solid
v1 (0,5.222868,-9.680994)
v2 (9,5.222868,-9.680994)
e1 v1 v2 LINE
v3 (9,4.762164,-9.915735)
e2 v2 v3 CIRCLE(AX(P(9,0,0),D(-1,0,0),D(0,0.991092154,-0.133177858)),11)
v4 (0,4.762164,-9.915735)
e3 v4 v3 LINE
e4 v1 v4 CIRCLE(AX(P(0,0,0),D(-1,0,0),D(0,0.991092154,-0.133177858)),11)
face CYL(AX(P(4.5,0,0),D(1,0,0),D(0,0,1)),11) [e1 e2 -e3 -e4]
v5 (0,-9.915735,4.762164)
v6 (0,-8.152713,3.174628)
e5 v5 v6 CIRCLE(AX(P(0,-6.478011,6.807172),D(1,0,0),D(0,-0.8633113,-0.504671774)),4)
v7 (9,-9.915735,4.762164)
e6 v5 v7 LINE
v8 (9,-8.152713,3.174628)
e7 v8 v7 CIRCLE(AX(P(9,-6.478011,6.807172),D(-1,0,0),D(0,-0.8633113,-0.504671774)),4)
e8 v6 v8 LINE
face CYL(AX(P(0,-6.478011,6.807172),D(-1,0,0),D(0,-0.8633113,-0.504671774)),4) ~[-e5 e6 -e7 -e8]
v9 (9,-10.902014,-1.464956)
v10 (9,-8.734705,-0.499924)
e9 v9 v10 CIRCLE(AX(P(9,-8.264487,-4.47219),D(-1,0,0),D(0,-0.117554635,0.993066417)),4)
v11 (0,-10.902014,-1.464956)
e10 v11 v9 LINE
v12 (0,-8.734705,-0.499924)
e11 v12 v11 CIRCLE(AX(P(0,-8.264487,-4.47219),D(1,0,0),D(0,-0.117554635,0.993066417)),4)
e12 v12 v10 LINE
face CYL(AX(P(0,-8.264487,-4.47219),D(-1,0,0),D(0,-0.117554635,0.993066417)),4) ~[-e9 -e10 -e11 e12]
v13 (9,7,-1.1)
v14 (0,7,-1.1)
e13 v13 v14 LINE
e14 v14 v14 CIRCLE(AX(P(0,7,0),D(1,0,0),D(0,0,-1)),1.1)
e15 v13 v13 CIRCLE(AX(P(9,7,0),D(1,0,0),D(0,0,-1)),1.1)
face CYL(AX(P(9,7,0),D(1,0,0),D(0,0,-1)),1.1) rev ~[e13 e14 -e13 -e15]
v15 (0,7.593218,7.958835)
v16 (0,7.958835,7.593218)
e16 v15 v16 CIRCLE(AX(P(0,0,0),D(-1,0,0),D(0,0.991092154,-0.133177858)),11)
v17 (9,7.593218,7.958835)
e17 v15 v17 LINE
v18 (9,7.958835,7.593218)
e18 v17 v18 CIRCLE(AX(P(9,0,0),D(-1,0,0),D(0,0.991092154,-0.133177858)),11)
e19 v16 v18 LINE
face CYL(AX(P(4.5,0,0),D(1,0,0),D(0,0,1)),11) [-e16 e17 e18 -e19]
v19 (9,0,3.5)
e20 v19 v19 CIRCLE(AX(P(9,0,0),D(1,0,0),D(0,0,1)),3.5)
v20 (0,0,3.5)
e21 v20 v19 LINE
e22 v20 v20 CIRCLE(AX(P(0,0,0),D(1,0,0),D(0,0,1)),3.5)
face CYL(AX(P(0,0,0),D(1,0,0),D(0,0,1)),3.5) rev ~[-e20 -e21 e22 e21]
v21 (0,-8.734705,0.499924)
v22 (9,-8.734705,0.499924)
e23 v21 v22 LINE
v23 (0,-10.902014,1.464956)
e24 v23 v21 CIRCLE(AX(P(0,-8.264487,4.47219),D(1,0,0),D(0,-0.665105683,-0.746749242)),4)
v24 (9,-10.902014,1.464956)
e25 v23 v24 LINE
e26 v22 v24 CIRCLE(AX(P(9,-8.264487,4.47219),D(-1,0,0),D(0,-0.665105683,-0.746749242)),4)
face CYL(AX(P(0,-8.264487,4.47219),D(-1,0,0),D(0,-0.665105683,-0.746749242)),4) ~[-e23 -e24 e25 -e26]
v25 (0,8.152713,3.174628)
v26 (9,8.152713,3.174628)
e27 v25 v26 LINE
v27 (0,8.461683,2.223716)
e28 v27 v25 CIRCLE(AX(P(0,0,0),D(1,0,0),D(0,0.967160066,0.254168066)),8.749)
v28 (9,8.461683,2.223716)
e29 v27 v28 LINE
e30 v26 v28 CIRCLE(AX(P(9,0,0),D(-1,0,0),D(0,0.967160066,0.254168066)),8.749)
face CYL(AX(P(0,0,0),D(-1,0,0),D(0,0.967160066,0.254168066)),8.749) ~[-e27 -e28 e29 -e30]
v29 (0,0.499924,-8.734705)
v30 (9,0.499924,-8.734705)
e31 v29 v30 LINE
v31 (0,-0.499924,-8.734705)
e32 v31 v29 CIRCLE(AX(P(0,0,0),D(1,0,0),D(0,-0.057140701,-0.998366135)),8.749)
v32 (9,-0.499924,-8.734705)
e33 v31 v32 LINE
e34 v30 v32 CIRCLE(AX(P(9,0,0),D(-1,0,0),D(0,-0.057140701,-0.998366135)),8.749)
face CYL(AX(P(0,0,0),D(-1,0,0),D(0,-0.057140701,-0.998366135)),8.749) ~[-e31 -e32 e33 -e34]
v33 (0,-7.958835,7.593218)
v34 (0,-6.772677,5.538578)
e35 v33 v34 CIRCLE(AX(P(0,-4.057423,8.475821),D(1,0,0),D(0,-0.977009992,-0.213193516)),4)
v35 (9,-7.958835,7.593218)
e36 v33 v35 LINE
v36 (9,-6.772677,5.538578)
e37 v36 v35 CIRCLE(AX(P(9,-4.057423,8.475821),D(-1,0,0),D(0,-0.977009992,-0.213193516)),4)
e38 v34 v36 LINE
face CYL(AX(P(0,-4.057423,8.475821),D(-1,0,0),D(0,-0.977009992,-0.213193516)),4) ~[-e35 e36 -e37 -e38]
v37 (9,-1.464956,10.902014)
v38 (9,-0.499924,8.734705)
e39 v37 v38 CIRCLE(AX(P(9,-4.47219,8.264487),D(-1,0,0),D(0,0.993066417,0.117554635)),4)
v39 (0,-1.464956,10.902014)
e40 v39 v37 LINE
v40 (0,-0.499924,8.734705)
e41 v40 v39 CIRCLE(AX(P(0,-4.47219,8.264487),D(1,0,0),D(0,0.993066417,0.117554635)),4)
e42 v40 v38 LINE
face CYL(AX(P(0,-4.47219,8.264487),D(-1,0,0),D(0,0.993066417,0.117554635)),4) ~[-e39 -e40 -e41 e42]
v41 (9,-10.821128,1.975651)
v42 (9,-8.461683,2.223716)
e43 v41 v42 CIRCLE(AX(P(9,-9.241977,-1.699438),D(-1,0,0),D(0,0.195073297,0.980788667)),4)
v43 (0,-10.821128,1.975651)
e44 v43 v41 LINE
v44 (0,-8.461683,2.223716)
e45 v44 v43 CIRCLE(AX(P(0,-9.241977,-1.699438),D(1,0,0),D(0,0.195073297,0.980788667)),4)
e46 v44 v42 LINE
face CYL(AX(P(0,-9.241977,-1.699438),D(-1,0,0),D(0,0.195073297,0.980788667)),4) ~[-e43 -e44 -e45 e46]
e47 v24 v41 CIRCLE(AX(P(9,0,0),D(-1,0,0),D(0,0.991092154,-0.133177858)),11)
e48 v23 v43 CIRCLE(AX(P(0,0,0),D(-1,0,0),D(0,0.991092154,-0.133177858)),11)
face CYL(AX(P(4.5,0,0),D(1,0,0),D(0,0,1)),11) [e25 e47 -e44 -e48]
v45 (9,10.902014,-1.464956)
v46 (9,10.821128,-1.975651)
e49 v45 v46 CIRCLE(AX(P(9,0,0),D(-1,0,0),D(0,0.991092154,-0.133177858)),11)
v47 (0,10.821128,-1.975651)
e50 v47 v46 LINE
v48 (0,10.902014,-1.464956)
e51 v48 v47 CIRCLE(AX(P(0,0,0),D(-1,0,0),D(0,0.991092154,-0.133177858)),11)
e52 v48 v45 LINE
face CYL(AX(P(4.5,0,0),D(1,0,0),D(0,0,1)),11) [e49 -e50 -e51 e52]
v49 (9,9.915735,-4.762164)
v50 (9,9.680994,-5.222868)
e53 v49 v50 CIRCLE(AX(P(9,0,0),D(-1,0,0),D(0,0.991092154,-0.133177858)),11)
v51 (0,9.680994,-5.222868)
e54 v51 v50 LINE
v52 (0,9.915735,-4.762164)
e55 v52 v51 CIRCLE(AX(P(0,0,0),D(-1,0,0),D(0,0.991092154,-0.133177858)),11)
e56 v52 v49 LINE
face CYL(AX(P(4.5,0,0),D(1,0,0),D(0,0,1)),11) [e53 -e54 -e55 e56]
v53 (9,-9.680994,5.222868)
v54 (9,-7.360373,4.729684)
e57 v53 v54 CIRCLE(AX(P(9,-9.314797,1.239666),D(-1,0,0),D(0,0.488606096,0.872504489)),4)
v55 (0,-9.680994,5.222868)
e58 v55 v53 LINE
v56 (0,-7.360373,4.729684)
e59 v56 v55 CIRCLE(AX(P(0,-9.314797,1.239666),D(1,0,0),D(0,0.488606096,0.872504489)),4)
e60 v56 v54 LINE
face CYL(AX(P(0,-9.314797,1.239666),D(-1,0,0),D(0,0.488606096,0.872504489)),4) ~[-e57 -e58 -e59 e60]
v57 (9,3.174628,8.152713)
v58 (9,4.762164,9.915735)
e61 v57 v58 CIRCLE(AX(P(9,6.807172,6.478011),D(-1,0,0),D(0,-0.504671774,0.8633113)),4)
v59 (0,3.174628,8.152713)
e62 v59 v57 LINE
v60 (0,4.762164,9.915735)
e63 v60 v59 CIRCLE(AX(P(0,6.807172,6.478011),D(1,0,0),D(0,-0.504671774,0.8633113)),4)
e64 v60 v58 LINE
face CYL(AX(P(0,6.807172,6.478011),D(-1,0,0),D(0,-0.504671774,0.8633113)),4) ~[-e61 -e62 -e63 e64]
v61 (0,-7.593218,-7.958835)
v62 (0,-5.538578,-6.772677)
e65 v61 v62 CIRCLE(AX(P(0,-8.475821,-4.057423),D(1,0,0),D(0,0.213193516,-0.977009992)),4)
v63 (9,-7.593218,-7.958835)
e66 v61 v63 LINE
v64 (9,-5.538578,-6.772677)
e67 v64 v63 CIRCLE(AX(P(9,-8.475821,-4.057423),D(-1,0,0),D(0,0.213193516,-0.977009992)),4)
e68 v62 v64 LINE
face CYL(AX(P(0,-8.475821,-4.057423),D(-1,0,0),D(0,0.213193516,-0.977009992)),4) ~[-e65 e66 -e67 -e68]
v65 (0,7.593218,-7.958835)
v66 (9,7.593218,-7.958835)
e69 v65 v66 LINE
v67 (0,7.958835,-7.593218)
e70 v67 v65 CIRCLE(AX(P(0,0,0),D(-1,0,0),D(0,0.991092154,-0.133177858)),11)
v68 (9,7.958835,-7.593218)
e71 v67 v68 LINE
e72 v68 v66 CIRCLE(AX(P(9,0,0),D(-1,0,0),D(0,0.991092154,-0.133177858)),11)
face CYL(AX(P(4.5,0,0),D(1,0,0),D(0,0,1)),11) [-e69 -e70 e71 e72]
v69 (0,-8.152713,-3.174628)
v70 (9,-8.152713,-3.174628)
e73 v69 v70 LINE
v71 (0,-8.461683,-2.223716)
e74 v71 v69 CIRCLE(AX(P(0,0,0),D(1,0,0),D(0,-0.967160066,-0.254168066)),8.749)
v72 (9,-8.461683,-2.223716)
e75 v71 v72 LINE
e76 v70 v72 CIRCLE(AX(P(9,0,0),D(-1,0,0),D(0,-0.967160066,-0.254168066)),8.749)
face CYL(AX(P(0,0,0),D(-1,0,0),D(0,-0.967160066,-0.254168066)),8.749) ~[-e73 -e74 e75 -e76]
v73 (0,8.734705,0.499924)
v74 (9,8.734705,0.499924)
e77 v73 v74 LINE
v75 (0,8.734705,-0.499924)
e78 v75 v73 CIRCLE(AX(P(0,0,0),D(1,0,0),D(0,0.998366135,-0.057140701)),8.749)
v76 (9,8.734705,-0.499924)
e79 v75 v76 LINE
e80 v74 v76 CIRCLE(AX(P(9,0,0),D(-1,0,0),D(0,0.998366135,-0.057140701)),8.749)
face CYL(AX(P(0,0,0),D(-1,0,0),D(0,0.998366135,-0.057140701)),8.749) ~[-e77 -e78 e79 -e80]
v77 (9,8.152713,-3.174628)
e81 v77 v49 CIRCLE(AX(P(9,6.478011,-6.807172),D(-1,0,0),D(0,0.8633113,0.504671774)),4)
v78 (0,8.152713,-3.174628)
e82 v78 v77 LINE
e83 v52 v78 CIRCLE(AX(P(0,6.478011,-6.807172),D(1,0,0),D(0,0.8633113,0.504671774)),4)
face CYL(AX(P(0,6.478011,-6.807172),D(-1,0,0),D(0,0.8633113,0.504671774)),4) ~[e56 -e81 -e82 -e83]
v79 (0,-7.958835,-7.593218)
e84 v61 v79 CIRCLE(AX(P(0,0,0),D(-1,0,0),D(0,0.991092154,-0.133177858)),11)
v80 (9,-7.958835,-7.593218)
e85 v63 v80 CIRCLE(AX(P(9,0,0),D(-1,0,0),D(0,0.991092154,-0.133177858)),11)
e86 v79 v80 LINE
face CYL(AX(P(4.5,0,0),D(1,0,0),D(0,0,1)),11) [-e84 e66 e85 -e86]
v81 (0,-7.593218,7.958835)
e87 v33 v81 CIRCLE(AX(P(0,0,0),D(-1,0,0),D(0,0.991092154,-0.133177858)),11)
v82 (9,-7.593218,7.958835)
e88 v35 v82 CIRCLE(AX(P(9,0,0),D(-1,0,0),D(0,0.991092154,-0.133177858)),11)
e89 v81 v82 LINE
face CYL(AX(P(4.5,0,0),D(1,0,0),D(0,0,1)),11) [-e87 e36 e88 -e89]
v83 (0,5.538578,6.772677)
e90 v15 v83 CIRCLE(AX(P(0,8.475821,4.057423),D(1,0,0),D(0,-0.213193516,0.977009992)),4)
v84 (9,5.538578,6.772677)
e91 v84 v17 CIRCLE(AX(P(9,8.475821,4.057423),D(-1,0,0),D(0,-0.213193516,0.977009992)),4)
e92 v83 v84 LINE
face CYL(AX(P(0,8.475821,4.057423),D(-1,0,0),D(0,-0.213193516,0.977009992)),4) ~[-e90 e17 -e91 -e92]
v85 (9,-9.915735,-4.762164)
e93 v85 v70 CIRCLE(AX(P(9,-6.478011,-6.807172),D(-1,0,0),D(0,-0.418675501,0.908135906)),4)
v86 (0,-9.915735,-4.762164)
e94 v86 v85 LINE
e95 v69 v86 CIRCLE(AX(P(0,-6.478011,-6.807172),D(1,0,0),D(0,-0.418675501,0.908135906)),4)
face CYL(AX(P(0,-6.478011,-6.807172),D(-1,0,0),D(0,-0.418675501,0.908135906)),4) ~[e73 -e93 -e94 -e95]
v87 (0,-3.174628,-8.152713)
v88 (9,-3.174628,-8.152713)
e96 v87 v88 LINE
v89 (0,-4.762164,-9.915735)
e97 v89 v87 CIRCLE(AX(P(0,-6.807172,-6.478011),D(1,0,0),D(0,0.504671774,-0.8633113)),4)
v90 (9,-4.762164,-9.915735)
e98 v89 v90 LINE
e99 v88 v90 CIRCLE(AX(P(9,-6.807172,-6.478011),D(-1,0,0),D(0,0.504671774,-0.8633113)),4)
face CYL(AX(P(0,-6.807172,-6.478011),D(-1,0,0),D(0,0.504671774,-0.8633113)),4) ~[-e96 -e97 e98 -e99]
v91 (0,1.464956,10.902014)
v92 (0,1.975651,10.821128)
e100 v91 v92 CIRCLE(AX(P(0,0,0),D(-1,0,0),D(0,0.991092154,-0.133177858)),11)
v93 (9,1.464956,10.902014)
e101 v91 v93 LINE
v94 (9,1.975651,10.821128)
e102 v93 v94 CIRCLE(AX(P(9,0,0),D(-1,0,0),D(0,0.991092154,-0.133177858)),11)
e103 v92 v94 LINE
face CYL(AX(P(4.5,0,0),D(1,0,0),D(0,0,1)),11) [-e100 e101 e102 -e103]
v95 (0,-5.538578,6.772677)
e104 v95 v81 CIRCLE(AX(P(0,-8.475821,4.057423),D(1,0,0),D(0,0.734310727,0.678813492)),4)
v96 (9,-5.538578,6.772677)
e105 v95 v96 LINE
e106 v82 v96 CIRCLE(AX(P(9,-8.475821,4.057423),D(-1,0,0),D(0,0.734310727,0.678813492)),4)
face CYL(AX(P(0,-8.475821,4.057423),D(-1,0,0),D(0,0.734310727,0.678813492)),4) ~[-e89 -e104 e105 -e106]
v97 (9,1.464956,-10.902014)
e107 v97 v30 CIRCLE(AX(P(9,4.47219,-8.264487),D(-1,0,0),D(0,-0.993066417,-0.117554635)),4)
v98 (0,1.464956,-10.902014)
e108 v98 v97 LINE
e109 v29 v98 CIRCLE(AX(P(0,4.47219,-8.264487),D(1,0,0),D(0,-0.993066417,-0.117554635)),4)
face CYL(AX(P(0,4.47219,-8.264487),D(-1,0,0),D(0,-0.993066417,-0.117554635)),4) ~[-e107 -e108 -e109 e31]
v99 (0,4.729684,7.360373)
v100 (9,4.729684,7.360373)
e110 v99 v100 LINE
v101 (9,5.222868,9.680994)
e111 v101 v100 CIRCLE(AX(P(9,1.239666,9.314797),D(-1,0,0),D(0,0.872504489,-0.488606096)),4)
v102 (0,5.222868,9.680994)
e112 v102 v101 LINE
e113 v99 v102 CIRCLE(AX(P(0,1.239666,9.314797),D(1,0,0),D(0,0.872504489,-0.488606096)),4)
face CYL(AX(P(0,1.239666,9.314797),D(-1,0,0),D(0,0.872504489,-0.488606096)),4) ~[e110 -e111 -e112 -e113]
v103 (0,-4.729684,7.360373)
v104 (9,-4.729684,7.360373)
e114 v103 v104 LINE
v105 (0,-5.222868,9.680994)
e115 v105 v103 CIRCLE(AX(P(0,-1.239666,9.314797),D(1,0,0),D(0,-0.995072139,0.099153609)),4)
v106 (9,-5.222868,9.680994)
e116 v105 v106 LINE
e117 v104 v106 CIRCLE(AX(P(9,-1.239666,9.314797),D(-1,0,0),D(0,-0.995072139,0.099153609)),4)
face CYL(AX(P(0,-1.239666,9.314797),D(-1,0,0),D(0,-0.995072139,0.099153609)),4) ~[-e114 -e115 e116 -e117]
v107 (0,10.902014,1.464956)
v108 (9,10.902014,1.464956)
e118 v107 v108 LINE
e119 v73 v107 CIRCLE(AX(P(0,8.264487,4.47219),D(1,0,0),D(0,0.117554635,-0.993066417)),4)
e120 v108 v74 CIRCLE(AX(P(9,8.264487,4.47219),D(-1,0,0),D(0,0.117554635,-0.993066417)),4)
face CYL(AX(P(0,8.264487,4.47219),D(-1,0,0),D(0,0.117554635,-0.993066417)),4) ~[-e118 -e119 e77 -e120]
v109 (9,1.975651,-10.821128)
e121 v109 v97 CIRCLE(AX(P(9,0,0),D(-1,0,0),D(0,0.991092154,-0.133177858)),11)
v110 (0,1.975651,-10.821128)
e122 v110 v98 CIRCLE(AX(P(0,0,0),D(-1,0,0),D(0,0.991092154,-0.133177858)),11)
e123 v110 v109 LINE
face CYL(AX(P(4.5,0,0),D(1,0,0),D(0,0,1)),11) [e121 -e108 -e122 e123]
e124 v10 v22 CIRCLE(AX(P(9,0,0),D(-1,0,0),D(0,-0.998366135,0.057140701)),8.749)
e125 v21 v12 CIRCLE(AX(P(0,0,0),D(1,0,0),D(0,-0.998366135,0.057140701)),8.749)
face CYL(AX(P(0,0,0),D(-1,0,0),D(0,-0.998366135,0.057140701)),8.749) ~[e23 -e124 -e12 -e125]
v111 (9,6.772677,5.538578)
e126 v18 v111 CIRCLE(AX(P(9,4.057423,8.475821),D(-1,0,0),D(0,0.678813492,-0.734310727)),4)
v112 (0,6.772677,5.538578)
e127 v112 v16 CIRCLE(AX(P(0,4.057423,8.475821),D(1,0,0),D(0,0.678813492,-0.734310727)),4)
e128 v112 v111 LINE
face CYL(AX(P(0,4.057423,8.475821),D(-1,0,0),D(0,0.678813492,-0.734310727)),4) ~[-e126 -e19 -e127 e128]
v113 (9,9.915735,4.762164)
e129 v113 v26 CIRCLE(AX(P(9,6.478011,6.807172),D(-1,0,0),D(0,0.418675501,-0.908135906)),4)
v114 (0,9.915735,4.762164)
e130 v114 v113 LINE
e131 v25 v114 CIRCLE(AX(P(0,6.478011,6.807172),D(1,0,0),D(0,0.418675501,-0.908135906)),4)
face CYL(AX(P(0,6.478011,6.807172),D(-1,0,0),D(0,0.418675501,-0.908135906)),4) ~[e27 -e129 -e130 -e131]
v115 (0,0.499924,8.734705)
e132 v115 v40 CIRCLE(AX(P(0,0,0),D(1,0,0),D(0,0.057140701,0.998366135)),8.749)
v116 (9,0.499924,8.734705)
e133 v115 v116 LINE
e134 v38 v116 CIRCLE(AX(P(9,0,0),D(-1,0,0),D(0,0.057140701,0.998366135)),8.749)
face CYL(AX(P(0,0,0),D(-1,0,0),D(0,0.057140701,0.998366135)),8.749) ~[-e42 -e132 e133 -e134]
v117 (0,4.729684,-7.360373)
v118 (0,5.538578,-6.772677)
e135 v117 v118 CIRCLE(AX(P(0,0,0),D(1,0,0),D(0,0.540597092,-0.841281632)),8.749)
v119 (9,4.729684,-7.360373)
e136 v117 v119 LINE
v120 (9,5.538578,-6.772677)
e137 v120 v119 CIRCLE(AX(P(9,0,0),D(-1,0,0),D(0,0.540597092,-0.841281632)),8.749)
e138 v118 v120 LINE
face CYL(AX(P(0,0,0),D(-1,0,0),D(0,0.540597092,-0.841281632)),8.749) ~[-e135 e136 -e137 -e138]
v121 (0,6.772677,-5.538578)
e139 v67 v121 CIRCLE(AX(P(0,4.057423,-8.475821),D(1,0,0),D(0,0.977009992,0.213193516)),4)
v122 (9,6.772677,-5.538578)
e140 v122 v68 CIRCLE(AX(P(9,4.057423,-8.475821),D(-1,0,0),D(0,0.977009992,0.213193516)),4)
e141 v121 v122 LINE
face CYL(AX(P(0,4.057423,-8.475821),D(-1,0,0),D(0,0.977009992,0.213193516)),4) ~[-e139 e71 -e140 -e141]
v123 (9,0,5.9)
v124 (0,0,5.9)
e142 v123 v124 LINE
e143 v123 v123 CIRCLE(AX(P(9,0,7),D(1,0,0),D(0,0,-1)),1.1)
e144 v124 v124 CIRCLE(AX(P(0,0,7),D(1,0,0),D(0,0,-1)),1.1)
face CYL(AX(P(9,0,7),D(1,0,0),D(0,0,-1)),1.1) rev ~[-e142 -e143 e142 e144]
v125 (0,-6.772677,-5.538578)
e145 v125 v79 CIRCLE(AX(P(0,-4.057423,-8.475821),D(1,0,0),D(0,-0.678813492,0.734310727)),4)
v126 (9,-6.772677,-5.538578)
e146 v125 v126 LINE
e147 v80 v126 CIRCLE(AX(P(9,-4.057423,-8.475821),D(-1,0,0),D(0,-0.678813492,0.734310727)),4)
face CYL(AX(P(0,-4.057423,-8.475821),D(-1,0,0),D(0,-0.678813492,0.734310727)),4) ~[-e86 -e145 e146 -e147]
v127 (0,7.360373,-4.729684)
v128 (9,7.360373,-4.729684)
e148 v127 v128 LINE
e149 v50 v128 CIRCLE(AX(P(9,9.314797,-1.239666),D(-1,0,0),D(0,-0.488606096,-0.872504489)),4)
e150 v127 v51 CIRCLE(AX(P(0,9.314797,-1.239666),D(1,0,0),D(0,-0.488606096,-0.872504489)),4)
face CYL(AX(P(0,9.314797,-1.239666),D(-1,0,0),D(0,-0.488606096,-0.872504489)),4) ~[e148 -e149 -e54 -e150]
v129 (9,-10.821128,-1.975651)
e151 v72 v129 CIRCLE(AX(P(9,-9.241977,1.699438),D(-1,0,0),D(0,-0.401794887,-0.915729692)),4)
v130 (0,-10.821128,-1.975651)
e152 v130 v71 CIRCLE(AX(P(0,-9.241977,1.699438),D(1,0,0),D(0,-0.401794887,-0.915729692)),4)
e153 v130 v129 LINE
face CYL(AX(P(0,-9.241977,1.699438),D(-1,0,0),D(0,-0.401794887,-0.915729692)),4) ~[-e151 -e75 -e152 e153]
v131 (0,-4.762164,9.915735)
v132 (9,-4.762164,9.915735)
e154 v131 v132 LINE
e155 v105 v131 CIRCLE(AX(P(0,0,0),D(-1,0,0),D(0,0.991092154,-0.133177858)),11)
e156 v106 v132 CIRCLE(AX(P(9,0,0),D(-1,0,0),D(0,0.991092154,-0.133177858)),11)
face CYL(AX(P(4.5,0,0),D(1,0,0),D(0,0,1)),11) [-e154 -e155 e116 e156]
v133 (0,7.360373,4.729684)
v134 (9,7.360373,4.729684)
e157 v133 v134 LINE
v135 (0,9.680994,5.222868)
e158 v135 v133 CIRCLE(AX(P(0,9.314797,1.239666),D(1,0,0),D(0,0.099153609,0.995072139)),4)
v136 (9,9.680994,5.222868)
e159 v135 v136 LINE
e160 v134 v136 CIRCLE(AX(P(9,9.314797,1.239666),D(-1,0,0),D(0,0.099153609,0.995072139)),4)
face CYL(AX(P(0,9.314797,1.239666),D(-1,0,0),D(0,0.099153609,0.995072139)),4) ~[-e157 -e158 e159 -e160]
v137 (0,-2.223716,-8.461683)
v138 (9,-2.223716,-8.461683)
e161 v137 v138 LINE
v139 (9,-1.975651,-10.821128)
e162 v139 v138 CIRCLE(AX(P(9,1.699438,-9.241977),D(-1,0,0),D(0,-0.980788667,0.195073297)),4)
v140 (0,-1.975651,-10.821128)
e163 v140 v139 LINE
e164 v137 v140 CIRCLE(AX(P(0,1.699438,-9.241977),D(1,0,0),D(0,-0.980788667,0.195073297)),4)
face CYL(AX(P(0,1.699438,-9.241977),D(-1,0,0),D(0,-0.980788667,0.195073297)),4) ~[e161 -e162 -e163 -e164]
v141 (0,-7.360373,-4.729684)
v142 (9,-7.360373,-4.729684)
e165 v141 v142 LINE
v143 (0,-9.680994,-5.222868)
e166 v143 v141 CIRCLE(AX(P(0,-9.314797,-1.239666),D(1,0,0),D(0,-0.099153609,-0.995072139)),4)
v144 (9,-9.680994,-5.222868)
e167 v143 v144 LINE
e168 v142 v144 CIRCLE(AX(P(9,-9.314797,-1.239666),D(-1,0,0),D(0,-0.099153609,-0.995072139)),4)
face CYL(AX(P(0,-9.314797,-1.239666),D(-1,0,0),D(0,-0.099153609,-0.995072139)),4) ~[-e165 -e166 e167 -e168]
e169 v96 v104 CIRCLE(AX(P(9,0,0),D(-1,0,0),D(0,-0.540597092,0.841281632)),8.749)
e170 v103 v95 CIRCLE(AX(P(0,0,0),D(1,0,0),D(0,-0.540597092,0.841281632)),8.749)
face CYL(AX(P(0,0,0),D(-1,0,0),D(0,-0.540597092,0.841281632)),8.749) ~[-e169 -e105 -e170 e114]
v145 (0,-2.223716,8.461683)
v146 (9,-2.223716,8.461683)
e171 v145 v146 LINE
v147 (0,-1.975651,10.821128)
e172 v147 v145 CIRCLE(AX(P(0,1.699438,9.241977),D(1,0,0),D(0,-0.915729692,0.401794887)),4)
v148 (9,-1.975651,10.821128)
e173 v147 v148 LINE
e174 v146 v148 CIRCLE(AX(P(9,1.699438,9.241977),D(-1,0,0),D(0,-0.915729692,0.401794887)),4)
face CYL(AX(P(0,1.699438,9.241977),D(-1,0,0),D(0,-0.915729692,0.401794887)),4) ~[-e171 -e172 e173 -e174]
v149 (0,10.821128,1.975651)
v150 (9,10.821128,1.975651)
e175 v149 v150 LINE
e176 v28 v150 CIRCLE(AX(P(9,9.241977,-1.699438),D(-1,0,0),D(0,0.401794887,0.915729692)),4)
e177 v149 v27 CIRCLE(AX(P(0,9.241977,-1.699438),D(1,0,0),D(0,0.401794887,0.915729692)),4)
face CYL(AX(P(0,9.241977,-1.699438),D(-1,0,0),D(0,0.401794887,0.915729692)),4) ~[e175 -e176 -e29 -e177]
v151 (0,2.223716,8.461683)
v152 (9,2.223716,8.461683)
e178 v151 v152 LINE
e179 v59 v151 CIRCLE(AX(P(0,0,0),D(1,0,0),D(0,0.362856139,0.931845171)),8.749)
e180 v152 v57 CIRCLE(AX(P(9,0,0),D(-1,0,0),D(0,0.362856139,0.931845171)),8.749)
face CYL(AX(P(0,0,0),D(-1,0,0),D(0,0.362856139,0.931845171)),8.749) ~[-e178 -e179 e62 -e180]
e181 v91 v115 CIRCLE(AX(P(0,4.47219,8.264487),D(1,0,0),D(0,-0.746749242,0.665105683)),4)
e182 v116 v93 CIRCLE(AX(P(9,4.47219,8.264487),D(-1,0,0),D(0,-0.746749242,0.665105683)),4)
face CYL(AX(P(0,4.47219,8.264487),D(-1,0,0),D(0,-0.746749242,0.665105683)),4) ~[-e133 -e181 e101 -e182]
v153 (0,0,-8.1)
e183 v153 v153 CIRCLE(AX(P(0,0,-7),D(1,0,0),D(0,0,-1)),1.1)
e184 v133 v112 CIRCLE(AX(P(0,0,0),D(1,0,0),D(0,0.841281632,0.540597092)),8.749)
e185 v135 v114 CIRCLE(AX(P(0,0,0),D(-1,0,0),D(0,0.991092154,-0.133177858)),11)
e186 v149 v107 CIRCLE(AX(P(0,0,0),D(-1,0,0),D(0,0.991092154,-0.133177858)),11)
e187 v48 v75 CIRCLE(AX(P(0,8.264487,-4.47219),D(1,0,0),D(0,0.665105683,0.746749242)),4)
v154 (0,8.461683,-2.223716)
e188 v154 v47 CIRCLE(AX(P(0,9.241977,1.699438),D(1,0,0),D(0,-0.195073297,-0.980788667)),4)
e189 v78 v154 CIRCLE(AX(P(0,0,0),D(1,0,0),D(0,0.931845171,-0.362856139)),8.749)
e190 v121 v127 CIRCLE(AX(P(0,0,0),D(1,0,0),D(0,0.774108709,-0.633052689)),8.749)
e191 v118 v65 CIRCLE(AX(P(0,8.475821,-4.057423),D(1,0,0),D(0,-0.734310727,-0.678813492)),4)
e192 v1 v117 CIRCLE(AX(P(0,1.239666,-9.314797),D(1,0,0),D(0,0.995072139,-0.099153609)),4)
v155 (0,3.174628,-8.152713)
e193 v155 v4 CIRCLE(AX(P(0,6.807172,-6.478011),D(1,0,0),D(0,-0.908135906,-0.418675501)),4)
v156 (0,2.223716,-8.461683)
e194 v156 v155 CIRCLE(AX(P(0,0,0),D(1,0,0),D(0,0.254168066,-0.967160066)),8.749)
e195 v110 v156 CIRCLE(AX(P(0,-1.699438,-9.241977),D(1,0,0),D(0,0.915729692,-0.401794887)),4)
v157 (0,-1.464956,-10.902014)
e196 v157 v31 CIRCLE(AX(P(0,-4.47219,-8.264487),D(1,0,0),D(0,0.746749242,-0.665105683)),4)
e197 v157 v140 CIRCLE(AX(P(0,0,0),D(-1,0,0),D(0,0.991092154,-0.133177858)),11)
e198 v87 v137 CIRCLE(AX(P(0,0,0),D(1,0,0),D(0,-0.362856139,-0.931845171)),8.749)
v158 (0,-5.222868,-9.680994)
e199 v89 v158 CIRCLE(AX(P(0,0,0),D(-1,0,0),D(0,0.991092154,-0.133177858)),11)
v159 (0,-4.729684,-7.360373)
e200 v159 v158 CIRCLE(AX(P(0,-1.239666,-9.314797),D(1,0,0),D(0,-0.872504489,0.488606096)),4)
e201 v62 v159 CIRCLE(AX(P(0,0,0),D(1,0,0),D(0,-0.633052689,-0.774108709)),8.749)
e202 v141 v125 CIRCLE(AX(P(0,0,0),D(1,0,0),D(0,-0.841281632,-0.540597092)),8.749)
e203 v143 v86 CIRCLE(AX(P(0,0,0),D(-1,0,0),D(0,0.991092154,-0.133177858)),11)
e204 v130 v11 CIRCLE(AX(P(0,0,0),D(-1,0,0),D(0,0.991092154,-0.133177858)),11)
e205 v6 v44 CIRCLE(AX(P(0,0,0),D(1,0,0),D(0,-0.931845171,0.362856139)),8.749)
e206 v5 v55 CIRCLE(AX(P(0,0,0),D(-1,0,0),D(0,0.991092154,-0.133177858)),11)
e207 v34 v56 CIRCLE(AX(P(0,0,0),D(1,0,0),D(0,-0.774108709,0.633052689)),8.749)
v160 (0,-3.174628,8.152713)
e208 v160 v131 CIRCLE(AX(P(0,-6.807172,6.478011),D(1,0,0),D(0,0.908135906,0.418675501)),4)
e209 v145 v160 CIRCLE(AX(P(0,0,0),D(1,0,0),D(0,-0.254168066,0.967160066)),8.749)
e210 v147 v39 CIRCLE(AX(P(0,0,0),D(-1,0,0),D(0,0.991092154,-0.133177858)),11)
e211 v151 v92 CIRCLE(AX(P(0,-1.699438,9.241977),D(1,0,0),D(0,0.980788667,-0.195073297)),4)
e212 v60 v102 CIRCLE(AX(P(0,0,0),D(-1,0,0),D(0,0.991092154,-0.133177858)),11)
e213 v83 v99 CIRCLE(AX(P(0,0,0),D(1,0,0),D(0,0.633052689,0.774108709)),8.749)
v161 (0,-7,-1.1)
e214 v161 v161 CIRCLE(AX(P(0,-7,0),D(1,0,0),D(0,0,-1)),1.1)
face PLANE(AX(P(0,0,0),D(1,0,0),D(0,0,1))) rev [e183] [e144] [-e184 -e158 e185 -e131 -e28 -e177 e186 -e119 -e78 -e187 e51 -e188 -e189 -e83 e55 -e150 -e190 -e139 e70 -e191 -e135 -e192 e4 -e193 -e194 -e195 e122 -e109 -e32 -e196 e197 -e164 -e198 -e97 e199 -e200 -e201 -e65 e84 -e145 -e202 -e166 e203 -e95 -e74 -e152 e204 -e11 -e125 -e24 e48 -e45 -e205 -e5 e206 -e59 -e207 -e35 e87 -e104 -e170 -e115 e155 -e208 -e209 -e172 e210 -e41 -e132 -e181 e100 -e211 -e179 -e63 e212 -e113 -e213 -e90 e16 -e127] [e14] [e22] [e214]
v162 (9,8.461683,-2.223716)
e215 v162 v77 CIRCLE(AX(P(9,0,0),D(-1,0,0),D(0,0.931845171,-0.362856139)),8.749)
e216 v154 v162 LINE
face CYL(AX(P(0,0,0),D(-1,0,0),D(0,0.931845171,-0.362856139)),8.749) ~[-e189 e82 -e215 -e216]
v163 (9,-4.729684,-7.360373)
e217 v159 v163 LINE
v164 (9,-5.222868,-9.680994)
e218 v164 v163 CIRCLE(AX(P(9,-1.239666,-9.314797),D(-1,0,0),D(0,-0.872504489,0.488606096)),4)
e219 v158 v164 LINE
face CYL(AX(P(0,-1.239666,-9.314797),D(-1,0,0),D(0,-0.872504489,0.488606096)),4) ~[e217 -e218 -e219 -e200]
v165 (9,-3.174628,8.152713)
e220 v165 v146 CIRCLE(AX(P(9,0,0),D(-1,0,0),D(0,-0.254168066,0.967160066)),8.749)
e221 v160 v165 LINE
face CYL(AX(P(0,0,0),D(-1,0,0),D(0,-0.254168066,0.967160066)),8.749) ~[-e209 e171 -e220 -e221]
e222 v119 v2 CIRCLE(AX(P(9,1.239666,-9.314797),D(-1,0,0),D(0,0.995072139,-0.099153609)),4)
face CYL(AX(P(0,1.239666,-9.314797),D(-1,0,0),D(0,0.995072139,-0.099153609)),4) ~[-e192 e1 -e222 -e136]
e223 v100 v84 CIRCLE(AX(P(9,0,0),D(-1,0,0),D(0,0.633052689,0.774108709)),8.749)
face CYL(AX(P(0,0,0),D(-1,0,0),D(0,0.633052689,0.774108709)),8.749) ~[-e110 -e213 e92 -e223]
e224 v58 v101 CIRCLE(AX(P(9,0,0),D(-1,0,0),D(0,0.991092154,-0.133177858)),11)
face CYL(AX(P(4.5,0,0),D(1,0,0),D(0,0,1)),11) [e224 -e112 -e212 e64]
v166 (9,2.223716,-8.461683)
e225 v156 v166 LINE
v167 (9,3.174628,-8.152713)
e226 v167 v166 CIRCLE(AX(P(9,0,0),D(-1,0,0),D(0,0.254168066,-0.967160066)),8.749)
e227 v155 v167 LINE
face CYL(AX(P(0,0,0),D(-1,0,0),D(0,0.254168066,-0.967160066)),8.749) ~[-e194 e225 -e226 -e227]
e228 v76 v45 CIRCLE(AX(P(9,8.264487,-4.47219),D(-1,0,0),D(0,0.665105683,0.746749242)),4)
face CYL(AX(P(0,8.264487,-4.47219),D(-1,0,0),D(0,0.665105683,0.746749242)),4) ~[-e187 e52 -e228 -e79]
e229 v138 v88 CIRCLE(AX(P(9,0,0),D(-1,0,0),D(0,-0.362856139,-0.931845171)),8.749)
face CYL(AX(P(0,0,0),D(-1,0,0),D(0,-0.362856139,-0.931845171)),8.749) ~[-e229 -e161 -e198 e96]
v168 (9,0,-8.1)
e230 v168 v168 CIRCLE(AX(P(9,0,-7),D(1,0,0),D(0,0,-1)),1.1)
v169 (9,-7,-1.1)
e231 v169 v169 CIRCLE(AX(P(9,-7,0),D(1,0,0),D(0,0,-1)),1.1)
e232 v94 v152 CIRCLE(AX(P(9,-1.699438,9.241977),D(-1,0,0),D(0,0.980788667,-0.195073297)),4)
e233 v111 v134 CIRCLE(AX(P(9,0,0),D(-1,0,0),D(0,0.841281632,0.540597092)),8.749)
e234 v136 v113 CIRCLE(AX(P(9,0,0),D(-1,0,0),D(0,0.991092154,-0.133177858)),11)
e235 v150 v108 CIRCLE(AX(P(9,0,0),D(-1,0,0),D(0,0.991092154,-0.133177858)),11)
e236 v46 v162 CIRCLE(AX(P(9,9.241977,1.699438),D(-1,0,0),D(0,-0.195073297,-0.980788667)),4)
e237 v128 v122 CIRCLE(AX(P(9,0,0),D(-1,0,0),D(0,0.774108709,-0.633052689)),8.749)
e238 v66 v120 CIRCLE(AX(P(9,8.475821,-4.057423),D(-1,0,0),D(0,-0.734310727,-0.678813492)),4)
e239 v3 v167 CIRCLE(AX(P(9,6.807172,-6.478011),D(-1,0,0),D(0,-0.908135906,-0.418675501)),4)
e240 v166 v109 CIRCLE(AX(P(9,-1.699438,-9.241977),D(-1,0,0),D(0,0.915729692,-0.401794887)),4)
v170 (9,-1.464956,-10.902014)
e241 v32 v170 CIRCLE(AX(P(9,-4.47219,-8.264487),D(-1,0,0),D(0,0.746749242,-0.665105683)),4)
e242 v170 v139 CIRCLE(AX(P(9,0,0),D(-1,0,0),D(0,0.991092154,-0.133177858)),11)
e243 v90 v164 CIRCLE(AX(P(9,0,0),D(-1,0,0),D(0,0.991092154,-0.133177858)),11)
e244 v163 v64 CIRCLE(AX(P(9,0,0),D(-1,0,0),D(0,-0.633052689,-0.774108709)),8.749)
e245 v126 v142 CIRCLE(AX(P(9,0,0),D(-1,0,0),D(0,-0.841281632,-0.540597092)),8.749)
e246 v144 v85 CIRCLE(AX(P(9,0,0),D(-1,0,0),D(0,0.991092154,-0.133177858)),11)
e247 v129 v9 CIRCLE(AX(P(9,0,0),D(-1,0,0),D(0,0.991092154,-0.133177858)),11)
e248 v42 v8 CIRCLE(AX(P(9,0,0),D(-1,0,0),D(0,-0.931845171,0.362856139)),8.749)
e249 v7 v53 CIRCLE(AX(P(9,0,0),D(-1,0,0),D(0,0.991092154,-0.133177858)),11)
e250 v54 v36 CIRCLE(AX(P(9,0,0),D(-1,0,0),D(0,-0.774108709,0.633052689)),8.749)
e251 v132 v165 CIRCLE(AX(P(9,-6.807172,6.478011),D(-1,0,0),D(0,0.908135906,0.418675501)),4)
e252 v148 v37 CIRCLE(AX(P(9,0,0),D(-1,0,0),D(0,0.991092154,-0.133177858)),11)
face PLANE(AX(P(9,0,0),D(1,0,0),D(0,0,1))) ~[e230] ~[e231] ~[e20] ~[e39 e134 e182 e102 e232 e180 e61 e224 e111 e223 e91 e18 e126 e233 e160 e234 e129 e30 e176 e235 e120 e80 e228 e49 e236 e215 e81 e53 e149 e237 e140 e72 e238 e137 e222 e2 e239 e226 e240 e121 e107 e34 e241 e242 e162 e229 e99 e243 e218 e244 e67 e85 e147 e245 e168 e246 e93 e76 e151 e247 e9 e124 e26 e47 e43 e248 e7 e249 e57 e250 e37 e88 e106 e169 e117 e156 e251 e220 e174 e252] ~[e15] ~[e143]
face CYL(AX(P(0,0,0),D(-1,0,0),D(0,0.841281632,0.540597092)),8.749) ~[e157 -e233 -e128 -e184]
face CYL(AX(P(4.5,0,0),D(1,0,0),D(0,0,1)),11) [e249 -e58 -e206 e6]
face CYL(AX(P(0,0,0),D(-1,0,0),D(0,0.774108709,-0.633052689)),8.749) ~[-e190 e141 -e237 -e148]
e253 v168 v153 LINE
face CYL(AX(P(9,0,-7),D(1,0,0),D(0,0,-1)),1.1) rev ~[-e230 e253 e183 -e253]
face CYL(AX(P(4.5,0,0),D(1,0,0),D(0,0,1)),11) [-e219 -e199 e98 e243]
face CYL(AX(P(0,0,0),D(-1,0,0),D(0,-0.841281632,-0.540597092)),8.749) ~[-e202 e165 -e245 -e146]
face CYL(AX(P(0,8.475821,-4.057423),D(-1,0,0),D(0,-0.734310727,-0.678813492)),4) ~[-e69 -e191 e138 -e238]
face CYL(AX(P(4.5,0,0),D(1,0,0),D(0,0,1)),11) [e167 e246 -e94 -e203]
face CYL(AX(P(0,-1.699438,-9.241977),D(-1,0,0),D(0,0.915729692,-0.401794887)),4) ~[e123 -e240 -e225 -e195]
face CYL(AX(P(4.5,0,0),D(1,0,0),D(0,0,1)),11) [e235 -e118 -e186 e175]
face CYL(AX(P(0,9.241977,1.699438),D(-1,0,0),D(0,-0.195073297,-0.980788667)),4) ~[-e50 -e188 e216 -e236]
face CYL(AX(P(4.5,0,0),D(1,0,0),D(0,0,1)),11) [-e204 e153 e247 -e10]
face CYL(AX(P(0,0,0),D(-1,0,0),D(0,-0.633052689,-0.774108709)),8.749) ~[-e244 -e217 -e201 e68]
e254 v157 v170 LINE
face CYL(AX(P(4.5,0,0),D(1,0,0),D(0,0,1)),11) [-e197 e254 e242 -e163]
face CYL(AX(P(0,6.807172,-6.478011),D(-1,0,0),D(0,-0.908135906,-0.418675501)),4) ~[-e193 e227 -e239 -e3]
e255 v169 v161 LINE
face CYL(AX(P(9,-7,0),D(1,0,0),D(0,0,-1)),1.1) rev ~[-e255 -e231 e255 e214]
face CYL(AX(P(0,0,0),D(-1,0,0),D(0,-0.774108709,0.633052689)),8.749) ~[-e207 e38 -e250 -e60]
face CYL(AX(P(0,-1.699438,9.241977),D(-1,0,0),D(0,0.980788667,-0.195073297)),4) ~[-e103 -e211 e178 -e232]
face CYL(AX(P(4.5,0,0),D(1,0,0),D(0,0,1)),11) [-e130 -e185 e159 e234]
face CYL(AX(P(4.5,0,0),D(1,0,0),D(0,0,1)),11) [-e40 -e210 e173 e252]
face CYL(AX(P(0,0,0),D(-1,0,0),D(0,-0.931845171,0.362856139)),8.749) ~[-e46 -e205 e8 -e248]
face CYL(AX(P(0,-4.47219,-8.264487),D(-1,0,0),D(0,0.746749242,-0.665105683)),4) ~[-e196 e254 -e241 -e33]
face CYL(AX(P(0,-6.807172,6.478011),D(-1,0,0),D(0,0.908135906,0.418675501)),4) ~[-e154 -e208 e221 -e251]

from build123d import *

# Parameters (mm, degrees)
BASPROSKE_W        = 9
BASPROSKE_H        = 11
TOOTHCUT_DEPTH     = 18.972200756
TEETHCUTS_COUNT    = 20
TEETHCUTS_ANGLE    = 342
BORSKE_R           = 3.5
BORE_DEPTH         = 50.0000508
SKETCH1_R          = 1.1
CUT_EXTRUDE1_DEPTH = 18.852389344


with BuildPart() as part:
    # BasProSke → Base-Revolve (revolve)
    with BuildSketch(Plane(origin=(0, 0, 0), x_dir=(1, 0, 0), z_dir=(0, 1, 0)), mode=Mode.PRIVATE) as base_revolve_sk:
        with Locations((4.5, 5.5)):
            Rectangle(BASPROSKE_W, BASPROSKE_H)
    revolve(base_revolve_sk.sketch.rotate(Axis((-10, 0, 0), (1, 0, 0)), 180), axis=Axis((-10, 0, 0), (1, 0, 0)))

    # TooCutSke → ToothCut (cut, through all)
    with BuildSketch(Plane(origin=(0, 0, 0), x_dir=(0, 0, -1), z_dir=(1, 0, 0))):
        with BuildLine():
            ThreePointArc((0.499924007, 8.734705318), (0, 8.749), (-0.499924007, 8.734705318))
            ThreePointArc((-0.499924007, 8.734705318), (-0.824302243, 9.905497836), (-1.485192705, 10.924909509))
            ThreePointArc((-1.485192705, 10.924909509), (0, 11.0254), (1.485192705, 10.924909509))
            ThreePointArc((1.485192705, 10.924909509), (0.824302243, 9.905497836), (0.499924007, 8.734705318))
        make_face()
    toothcut = extrude(amount=TOOTHCUT_DEPTH, mode=Mode.SUBTRACT)

    # TeethCuts: ToothCut ×20 about axis
    teethcuts_axis = Axis((-10, 0, 0), (1, 0, 0))
    for i in range(1, TEETHCUTS_COUNT):
        add(toothcut.rotate(teethcuts_axis, i * TEETHCUTS_ANGLE / (TEETHCUTS_COUNT - 1)), mode=Mode.SUBTRACT)

    # BorSke → Bore (cut, symmetric)
    with BuildSketch(Plane(origin=(0, 0, 0), x_dir=(0, 0, -1), z_dir=(1, 0, 0))):
        with Locations(Location((0, 0, 0), (0, 0, 180))):
            Circle(BORSKE_R)
    extrude(amount=BORE_DEPTH, both=True, mode=Mode.SUBTRACT)

    # Sketch1 → Cut-Extrude1 (cut, through all)
    with BuildSketch(Plane(origin=(9, 0, 0), x_dir=(0, 0, -1), z_dir=(1, 0, 0))):
        with Locations((0, -7)):
            Circle(SKETCH1_R)
        with Locations((0, 7)):
            Circle(SKETCH1_R)
        with Locations((7, 0)):
            Circle(SKETCH1_R)
        with Locations((-7, 0)):
            Circle(SKETCH1_R)
    extrude(amount=-CUT_EXTRUDE1_DEPTH, mode=Mode.SUBTRACT)


solid = part.part
